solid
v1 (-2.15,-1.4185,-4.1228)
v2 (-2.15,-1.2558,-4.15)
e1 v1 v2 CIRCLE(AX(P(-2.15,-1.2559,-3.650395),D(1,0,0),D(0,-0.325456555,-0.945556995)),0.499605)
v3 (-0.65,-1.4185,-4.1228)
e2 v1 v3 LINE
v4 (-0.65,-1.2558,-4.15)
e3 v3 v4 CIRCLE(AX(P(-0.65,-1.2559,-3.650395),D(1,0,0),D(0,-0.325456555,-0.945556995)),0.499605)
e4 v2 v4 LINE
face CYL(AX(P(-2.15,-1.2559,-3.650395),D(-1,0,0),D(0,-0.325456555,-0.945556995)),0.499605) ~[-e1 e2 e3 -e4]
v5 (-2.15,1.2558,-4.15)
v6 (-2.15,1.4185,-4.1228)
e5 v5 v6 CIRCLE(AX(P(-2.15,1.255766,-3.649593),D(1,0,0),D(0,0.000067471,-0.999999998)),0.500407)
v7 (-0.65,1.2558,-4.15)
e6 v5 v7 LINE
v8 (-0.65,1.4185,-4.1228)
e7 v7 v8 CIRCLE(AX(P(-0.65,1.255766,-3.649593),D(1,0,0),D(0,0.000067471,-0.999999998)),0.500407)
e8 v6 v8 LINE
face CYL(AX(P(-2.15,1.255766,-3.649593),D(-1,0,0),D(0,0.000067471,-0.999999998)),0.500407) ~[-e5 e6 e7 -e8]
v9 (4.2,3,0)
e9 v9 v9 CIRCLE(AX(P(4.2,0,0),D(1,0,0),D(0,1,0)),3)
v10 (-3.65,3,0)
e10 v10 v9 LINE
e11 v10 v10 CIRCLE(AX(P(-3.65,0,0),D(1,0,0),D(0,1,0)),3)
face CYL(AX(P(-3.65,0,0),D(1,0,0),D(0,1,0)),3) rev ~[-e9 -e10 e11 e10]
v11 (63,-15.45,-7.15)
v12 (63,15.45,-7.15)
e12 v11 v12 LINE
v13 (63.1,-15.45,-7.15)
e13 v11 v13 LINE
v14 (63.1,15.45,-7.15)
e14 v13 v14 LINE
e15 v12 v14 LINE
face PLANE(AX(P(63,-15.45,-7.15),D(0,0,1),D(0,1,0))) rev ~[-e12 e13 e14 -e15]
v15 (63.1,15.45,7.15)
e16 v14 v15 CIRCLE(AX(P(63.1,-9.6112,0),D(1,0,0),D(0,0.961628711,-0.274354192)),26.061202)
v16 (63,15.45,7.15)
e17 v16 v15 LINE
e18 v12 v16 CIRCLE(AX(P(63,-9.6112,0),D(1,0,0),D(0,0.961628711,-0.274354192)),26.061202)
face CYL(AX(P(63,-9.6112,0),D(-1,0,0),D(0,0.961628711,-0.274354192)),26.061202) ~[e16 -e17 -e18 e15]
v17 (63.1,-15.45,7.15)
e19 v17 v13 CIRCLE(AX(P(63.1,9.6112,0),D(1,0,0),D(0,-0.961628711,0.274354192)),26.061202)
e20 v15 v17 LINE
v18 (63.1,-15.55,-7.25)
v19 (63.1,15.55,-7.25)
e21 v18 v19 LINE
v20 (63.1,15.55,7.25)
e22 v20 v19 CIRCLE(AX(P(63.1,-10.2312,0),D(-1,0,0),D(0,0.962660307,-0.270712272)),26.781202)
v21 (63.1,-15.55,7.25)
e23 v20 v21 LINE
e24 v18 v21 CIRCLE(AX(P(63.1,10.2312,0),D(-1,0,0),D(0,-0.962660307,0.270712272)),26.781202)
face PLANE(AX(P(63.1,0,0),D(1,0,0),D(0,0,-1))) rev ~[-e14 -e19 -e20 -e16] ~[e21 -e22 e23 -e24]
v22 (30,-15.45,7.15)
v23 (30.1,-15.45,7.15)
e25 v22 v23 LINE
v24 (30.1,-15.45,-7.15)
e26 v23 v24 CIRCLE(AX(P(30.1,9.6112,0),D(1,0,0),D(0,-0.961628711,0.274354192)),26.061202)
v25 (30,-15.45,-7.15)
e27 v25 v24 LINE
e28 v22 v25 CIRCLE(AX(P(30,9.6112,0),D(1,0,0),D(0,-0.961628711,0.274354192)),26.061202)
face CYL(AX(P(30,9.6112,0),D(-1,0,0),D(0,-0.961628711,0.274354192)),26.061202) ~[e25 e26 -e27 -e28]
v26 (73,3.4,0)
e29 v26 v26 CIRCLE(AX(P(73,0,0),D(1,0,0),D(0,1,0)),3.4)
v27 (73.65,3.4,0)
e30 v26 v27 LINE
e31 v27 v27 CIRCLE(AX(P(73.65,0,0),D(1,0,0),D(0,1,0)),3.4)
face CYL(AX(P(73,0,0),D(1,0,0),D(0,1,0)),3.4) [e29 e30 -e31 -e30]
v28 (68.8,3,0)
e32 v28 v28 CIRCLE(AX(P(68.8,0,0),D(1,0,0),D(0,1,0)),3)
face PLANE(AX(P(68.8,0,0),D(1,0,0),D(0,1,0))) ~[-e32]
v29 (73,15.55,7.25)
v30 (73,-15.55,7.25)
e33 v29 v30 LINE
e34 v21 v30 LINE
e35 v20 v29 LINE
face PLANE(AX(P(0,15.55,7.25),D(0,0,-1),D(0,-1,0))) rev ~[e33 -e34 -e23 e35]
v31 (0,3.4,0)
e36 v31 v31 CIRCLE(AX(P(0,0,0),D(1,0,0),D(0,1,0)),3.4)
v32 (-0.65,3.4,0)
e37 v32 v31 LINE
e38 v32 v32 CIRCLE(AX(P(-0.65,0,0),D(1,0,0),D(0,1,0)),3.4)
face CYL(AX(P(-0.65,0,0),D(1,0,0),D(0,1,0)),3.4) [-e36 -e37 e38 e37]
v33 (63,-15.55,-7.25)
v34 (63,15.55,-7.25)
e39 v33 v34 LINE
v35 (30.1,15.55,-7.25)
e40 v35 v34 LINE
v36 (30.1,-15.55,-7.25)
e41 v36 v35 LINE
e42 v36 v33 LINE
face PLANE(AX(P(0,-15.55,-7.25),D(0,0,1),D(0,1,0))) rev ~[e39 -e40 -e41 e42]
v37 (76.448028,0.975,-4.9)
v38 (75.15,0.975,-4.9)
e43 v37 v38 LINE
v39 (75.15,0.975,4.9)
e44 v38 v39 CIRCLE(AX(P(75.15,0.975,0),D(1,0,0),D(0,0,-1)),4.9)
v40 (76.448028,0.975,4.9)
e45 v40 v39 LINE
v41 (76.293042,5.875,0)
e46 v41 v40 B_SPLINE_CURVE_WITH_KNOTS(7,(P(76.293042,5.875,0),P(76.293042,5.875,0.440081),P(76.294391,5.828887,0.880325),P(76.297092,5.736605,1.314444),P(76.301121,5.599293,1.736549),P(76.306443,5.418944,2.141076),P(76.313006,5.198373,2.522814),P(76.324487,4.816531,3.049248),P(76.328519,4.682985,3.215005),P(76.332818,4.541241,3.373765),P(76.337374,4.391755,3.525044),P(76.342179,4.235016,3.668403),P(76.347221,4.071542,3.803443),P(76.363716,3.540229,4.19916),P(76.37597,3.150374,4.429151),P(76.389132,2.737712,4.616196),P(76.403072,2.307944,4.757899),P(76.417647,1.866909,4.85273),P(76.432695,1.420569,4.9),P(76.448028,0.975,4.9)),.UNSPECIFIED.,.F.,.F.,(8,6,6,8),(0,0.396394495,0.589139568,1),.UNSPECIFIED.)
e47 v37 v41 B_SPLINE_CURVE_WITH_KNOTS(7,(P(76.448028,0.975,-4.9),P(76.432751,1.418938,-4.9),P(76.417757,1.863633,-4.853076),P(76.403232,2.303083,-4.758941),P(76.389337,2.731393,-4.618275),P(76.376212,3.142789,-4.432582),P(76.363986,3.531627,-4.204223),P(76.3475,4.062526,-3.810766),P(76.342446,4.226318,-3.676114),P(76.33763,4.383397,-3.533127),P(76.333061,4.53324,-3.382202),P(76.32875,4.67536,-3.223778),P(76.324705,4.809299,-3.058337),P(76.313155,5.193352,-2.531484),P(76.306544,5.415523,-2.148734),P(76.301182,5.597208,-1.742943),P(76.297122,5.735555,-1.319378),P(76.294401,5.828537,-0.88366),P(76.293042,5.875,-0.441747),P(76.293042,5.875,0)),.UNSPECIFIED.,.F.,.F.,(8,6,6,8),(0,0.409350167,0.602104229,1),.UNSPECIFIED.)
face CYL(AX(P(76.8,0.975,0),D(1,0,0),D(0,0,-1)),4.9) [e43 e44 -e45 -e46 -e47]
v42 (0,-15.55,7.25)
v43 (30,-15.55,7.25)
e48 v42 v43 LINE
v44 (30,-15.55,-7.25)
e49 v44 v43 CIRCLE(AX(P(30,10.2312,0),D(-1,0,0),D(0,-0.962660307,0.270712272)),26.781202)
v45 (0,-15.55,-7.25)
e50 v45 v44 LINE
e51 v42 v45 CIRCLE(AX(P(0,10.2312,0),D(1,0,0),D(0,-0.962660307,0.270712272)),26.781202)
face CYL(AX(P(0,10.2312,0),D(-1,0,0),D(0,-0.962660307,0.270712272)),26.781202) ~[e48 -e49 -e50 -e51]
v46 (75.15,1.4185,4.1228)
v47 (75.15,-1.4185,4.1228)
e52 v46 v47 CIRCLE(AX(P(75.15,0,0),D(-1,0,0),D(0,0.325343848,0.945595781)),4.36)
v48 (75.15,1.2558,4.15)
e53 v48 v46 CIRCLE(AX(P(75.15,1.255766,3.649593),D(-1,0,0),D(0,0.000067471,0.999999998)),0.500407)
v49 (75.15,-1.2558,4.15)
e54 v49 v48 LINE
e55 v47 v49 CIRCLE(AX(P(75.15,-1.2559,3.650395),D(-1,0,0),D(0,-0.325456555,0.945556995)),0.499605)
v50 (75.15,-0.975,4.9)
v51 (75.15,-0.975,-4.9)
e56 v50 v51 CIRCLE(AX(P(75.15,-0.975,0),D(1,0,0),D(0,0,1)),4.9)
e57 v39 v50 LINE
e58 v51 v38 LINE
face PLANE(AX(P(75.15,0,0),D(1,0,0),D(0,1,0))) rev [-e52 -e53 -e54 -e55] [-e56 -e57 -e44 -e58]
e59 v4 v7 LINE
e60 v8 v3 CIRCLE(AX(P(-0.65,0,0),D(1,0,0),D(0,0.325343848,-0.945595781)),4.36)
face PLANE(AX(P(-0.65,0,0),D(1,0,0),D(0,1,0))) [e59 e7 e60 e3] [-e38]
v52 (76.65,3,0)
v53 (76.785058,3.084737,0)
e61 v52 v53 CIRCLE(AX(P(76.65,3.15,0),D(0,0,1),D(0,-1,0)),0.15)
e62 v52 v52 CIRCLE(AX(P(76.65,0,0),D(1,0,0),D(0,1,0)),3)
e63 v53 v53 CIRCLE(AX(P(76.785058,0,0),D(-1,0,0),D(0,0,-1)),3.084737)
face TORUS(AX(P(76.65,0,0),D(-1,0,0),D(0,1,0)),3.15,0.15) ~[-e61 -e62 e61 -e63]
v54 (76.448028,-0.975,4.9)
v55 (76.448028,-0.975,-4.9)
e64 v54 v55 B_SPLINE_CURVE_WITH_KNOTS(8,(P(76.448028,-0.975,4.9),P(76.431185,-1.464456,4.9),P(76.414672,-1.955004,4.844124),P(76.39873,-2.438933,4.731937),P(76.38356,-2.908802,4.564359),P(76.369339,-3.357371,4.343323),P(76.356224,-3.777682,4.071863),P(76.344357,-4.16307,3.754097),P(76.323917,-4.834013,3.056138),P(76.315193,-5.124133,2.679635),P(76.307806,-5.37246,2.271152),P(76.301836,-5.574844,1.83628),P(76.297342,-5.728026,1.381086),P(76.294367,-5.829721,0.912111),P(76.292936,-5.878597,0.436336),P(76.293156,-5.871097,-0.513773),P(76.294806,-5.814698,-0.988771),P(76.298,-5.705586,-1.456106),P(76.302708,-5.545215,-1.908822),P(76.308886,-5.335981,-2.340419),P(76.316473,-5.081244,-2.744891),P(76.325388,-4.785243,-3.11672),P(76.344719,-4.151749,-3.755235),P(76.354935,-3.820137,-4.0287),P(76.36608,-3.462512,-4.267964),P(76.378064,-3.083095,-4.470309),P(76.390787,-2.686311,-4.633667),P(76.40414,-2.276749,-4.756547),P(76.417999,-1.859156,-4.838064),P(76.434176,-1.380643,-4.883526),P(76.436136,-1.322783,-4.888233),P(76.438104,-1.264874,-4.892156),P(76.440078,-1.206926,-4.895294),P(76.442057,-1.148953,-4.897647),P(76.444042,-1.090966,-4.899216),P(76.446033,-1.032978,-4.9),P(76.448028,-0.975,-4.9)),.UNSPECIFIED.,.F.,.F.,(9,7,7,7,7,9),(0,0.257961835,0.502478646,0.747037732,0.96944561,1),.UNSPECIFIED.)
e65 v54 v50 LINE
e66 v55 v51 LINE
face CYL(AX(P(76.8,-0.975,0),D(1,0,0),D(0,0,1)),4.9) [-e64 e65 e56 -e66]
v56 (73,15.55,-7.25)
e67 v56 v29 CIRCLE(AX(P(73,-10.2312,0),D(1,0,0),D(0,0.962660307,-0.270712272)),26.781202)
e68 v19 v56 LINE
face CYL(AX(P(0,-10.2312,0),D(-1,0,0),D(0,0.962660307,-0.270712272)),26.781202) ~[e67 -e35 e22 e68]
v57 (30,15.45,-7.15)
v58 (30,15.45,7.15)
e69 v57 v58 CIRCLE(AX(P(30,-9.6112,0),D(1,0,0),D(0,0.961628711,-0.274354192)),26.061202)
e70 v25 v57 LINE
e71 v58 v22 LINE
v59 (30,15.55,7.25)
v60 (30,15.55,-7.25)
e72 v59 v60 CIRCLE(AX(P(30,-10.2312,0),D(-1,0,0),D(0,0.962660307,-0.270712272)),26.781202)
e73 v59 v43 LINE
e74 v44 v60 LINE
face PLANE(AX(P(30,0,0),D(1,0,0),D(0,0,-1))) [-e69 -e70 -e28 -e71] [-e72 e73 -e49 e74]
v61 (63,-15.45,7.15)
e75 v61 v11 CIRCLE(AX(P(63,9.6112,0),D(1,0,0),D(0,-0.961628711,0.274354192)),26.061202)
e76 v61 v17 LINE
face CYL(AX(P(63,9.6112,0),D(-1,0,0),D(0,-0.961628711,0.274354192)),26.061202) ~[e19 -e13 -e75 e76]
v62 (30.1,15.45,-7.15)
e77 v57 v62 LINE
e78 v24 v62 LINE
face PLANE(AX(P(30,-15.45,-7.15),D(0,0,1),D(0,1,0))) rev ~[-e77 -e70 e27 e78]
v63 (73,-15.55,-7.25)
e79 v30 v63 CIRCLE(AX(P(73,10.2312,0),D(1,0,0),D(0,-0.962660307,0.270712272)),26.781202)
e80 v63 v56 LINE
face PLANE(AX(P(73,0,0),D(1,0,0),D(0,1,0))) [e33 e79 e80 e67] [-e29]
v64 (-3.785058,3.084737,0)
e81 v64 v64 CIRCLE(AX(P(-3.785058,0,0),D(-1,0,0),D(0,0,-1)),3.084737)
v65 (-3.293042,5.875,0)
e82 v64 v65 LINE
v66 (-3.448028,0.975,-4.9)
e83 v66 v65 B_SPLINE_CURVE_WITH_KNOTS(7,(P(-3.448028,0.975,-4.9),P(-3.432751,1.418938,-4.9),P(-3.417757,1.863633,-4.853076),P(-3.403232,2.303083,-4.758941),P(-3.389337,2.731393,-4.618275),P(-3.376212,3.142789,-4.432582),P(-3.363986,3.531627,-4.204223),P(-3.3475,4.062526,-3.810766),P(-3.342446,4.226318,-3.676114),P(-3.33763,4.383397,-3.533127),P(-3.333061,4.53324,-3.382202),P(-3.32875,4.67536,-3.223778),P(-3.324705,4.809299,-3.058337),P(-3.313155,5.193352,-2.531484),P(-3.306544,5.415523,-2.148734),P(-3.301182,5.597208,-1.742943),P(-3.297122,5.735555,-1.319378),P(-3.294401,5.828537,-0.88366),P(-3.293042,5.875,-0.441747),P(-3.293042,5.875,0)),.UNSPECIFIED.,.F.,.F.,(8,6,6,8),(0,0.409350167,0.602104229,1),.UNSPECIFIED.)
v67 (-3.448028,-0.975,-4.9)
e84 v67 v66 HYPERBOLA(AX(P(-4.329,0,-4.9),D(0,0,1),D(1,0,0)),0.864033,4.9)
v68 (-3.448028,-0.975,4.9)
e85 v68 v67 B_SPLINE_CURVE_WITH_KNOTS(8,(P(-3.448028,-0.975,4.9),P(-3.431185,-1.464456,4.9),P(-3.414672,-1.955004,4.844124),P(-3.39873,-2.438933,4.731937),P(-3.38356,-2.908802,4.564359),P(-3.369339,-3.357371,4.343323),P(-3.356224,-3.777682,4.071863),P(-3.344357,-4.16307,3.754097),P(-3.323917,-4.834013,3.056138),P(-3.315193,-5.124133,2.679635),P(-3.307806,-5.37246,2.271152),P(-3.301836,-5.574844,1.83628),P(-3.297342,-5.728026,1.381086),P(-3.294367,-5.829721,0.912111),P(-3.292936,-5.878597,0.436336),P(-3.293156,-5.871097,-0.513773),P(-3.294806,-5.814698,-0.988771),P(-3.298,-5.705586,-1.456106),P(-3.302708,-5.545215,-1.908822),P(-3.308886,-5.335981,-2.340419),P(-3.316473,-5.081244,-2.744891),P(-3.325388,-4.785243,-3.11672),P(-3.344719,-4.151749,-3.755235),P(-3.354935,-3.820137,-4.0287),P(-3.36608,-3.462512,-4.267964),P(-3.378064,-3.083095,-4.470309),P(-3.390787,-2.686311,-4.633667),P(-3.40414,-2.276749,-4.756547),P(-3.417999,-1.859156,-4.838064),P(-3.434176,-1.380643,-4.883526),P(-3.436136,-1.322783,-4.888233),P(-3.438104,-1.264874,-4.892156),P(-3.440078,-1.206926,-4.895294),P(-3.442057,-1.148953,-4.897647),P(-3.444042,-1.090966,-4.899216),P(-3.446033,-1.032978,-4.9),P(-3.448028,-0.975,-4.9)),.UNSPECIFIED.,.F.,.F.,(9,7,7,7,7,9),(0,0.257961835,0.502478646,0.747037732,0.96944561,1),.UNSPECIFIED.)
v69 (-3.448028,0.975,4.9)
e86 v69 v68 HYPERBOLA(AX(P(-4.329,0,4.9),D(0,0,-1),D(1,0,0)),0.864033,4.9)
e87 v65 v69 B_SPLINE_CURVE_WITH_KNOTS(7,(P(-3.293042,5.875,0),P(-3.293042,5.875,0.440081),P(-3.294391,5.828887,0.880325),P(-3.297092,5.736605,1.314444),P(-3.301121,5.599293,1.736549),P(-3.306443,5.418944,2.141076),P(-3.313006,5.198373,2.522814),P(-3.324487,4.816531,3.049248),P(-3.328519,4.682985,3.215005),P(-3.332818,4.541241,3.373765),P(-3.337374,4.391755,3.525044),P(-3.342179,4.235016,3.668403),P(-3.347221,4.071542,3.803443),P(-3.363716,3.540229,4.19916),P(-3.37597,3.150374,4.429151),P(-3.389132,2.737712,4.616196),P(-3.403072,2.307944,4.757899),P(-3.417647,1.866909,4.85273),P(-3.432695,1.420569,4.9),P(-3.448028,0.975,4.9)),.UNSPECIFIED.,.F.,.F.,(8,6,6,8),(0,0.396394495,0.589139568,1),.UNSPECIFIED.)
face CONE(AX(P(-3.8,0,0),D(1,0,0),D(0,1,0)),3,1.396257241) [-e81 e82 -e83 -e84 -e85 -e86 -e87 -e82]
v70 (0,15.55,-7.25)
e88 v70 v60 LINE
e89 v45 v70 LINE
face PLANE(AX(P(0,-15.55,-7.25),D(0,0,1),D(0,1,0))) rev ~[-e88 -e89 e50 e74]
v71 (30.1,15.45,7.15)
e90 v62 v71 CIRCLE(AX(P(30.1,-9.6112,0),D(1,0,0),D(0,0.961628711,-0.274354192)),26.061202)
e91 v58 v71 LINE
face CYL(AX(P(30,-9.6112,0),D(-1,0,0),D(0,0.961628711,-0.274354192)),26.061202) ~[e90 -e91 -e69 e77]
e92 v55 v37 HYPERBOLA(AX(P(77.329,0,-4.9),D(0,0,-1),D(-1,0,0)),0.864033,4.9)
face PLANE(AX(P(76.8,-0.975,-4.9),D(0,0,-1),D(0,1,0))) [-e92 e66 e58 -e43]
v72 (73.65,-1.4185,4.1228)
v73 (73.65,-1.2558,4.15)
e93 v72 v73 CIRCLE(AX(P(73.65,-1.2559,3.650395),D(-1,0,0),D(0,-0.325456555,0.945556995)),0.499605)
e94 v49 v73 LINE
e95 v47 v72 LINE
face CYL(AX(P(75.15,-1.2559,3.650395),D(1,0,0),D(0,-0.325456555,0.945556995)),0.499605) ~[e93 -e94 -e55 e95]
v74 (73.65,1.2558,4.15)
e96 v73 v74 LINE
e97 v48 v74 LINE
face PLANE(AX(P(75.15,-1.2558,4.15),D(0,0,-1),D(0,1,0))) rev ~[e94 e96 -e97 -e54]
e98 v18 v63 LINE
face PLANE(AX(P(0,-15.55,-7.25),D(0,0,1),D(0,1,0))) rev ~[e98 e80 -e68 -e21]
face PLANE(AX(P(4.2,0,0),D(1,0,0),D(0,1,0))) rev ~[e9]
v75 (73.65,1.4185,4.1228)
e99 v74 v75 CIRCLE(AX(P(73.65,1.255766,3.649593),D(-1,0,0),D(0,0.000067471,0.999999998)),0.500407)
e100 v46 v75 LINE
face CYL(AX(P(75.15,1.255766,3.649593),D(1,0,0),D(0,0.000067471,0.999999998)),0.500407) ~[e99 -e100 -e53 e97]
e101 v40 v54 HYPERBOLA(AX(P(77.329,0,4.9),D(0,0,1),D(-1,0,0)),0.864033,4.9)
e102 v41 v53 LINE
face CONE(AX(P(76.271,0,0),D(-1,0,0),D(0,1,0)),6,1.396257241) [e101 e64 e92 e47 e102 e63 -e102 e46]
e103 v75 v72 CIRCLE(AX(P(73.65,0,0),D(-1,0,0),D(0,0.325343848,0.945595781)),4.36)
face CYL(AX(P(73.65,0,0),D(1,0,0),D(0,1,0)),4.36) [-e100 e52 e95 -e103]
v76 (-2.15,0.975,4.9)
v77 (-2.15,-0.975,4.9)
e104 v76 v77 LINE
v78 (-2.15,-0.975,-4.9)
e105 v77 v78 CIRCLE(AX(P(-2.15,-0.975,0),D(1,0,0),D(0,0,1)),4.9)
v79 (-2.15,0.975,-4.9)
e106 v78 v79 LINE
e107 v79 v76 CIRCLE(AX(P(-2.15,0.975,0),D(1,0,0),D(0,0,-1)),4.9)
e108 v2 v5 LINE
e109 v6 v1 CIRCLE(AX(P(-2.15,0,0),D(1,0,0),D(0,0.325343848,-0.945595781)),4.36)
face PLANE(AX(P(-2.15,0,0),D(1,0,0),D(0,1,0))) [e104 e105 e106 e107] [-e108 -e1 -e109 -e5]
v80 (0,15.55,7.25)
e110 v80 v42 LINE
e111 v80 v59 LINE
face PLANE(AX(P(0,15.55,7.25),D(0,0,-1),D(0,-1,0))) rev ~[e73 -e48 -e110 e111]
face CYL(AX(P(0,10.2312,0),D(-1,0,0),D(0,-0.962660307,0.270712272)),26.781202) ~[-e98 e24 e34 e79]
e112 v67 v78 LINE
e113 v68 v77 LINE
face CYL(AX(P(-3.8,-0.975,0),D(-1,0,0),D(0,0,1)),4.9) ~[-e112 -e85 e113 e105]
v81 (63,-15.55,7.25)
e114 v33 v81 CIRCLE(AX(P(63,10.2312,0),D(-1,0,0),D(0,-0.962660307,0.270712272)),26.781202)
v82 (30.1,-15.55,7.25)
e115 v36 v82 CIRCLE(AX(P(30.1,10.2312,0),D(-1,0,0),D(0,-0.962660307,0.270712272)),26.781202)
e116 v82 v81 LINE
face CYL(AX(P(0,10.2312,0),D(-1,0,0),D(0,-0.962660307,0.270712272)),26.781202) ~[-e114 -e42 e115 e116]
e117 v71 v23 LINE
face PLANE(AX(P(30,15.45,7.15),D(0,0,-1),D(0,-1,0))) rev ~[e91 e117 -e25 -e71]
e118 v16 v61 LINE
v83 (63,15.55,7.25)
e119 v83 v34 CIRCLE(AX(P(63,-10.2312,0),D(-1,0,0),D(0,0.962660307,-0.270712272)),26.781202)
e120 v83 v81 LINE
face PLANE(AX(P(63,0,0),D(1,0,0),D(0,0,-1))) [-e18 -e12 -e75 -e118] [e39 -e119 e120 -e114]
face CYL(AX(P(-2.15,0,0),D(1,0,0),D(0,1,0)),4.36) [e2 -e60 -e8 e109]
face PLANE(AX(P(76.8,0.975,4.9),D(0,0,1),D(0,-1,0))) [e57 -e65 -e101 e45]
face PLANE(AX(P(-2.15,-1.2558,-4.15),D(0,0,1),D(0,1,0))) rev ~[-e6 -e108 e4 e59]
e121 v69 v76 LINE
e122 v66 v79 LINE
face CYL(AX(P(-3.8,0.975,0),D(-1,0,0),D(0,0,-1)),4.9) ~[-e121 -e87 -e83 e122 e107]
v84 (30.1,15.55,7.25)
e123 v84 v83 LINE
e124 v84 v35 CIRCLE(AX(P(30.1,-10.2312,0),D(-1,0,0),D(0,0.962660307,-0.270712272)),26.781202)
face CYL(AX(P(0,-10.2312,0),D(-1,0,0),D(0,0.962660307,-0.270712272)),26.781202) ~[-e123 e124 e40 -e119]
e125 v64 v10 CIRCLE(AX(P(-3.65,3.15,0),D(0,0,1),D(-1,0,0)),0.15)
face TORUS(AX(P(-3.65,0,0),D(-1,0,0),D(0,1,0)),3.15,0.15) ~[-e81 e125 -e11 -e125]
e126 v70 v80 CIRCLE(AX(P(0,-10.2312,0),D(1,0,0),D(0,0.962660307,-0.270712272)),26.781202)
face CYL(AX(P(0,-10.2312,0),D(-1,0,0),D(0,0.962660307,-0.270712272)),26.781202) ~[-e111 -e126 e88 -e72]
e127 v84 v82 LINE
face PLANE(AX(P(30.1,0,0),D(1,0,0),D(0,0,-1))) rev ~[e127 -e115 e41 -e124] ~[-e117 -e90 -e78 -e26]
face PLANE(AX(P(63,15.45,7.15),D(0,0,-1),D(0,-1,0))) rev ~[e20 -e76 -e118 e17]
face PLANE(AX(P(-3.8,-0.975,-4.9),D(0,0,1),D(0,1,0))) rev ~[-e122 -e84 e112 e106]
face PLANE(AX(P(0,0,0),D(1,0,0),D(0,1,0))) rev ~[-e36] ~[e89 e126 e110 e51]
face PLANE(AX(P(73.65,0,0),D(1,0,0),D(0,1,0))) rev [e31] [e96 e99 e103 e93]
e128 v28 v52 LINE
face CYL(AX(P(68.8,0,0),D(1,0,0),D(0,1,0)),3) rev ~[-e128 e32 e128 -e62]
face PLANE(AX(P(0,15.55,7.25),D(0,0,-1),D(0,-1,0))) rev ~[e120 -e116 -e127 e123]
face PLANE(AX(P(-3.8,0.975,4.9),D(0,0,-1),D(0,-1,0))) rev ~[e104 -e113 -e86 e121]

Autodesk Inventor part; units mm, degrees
ref_plane "YZ Plane" through (0, 0, 0) normal (1, 0, 0) x (0, 1, 0)
ref_plane "XZ Plane" through (0, 0, 0) normal (0, 1, 0) x (-1, 0, 0)
ref_plane "XY Plane" through (0, 0, 0) normal (0, 0, 1) x (1, 0, 0)
sketch "Sketch_1" plane through (0, 0, 0) normal (1, 0, 0) x (0, 1, 0)
  arc A0 (-15.55, 7.25) -> (-15.55, -7.25) centre (10.2312, 0) ccw
  line L0 (-15.55, -7.25) -> (15.55, -7.25)
  arc A1 (15.55, -7.25) -> (15.55, 7.25) centre (-10.2312, 0) ccw
  line L1 (15.55, 7.25) -> (-15.55, 7.25)
extrude "Extrusion1" add sketch "Sketch_1" along normal blind 73
sketch "Sketch_8" plane through (0, 0, 0) normal (0, 0, 1) x (1, 0, 0)
  line L0 (0, 0) -> (-3.8, 0)
  line L1 (-3.8, 0) -> (-3.8, 3)
  line L2 (-3.8, 3) -> (-3.271, 6)
  line L3 (-3.271, 6) -> (-2.15, 6)
  line L4 (-2.15, 6) -> (-2.15, 4.36)
  line L5 (-2.15, 4.36) -> (-0.65, 4.36)
  line L6 (-0.65, 4.36) -> (-0.65, 3.4)
  line L7 (-0.65, 3.4) -> (0, 3.4)
  line L8 (0, 3.4) -> (0, 0)
  line L9 (0, 0) -> (-3.8, 0)
revolve "Revolution1" add sketch "Sketch_8" angle 360 about axis through (0, 0, 0) along (1, 0, 0)
sketch "Sketch_2" plane through (0, 0, 0) normal (0, 0, 1) x (1, 0, 0)
  line L0 (4.2, 0) -> (-3.95, 0)
  line L1 (-3.95, 0) -> (-3.95, 3.15)
  line L2 (-3.95, 3.15) -> (-3.8, 3.15)
  arc A0 (-3.8, 3.15) -> (-3.65, 3) centre (-3.65, 3.15) ccw
  line L3 (-3.65, 3) -> (4.2, 3)
  line L4 (4.2, 3) -> (4.2, 0)
  line L5 (4.2, 0) -> (-3.95, 0)
revolve "Revolution2" cut sketch "Sketch_2" angle 360 about axis through (4.2, 0, 0) along (1, 0, 0)
sketch "Sketch_9" plane through (-3.8, 0, 0) normal (1, 0, 0) x (0, 0, -1)
  circle A0 centre (0, 0) radius 7
  arc A1 (-4.9, -0.975) -> (4.9, -0.975) centre (0, -0.975) ccw
  line L0 (4.9, -0.975) -> (4.9, 0.975)
  arc A2 (4.9, 0.975) -> (-4.9, 0.975) centre (0, 0.975) ccw
  line L1 (-4.9, 0.975) -> (-4.9, -0.975)
extrude "Extrusion2" cut sketch "Sketch_9" along normal blind 1.65
sketch "Sketch_10" plane through (-2.15, 0, 0) normal (1, 0, 0) x (0, 1, 0)
  circle A0 centre (0, 0) radius 6
  arc A1 (1.4185, -4.1228) -> (-1.4185, -4.1228) centre (0, 0) ccw
  arc A2 (-1.4185, -4.1228) -> (-1.2558, -4.15) centre (-1.2558, -3.65) ccw
  line L0 (-1.2558, -4.15) -> (1.2558, -4.15)
  arc A3 (1.2558, -4.15) -> (1.4185, -4.1228) centre (1.2558, -3.65) ccw
extrude "Extrusion3" cut sketch "Sketch_10" along normal blind 1.5
sketch "Sketch_3" plane through (0, 0, 0) normal (0, 0, 1) x (1, 0, 0)
  line L0 (76.8, 0) -> (73, 0)
  line L1 (73, 0) -> (73, 3.4)
  line L2 (73, 3.4) -> (73.65, 3.4)
  line L3 (73.65, 3.4) -> (73.65, 4.36)
  line L4 (73.65, 4.36) -> (75.15, 4.36)
  line L5 (75.15, 4.36) -> (75.15, 6)
  line L6 (75.15, 6) -> (76.271, 6)
  line L7 (76.271, 6) -> (76.8, 3)
  line L8 (76.8, 3) -> (76.8, 0)
  line L9 (76.8, 0) -> (73, 0)
revolve "Revolution3" add sketch "Sketch_3" angle 360 about axis through (76.8, 0, 0) along (1, 0, 0)
sketch "Sketch_4" plane through (0, 0, 0) normal (0, 0, 1) x (1, 0, 0)
  line L0 (76.95, 0) -> (68.8, 0)
  line L1 (68.8, 0) -> (68.8, 3)
  line L2 (68.8, 3) -> (76.65, 3)
  arc A0 (76.65, 3) -> (76.8, 3.15) centre (76.65, 3.15) ccw
  line L3 (76.8, 3.15) -> (76.95, 3.15)
  line L4 (76.95, 3.15) -> (76.95, 0)
  line L5 (76.95, 0) -> (68.8, 0)
revolve "Revolution4" cut sketch "Sketch_4" angle 360 about axis through (76.95, 0, 0) along (1, 0, 0)
sketch "Sketch_5" plane through (76.8, 0, 0) normal (1, 0, 0) x (0, 0, -1)
  circle A0 centre (0, 0) radius 7
  arc A1 (-4.9, -0.975) -> (4.9, -0.975) centre (0, -0.975) ccw
  line L0 (4.9, -0.975) -> (4.9, 0.975)
  arc A2 (4.9, 0.975) -> (-4.9, 0.975) centre (0, 0.975) ccw
  line L1 (-4.9, 0.975) -> (-4.9, -0.975)
extrude "Extrusion4" cut sketch "Sketch_5" against normal blind 1.65
sketch "Sketch_11" plane through (75.15, 0, 0) normal (-1, 0, 0) x (0, 1, 0)
  circle A0 centre (0, 0) radius 6
  arc A1 (1.4185, -4.1228) -> (-1.4185, -4.1228) centre (0, 0) ccw
  arc A2 (-1.4185, -4.1228) -> (-1.2558, -4.15) centre (-1.2558, -3.65) ccw
  line L0 (-1.2558, -4.15) -> (1.2558, -4.15)
  arc A3 (1.2558, -4.15) -> (1.4185, -4.1228) centre (1.2558, -3.65) ccw
extrude "Extrusion5" cut sketch "Sketch_11" along normal blind 1.5
sketch "Sketch_6" plane through (30, 0, 0) normal (1, 0, 0) x (0, 0, -1)
  line L0 (-10, -20) -> (10, -20)
  line L1 (10, -20) -> (10, 20)
  line L2 (10, 20) -> (-10, 20)
  line L3 (-10, 20) -> (-10, -20)
  arc A0 (-7.15, -15.45) -> (7.15, -15.45) centre (0, 9.6112) ccw
  line L4 (7.15, -15.45) -> (7.15, 15.45)
  arc A1 (7.15, 15.45) -> (-7.15, 15.45) centre (0, -9.6112) ccw
  line L5 (-7.15, 15.45) -> (-7.15, -15.45)
extrude "Extrusion6" cut sketch "Sketch_6" along normal blind 0.1
sketch "Sketch_7" plane through (63, 0, 0) normal (1, 0, 0) x (0, 0, -1)
  line L0 (-10, -20) -> (10, -20)
  line L1 (10, -20) -> (10, 20)
  line L2 (10, 20) -> (-10, 20)
  line L3 (-10, 20) -> (-10, -20)
  arc A0 (-7.15, -15.45) -> (7.15, -15.45) centre (0, 9.6112) ccw
  line L4 (7.15, -15.45) -> (7.15, 15.45)
  arc A1 (7.15, 15.45) -> (-7.15, 15.45) centre (0, -9.6112) ccw
  line L5 (-7.15, 15.45) -> (-7.15, -15.45)
extrude "Extrusion7" cut sketch "Sketch_7" along normal blind 0.1
properties part number "532624 VN-05-M-I3-PQ2-VQ2-A"
